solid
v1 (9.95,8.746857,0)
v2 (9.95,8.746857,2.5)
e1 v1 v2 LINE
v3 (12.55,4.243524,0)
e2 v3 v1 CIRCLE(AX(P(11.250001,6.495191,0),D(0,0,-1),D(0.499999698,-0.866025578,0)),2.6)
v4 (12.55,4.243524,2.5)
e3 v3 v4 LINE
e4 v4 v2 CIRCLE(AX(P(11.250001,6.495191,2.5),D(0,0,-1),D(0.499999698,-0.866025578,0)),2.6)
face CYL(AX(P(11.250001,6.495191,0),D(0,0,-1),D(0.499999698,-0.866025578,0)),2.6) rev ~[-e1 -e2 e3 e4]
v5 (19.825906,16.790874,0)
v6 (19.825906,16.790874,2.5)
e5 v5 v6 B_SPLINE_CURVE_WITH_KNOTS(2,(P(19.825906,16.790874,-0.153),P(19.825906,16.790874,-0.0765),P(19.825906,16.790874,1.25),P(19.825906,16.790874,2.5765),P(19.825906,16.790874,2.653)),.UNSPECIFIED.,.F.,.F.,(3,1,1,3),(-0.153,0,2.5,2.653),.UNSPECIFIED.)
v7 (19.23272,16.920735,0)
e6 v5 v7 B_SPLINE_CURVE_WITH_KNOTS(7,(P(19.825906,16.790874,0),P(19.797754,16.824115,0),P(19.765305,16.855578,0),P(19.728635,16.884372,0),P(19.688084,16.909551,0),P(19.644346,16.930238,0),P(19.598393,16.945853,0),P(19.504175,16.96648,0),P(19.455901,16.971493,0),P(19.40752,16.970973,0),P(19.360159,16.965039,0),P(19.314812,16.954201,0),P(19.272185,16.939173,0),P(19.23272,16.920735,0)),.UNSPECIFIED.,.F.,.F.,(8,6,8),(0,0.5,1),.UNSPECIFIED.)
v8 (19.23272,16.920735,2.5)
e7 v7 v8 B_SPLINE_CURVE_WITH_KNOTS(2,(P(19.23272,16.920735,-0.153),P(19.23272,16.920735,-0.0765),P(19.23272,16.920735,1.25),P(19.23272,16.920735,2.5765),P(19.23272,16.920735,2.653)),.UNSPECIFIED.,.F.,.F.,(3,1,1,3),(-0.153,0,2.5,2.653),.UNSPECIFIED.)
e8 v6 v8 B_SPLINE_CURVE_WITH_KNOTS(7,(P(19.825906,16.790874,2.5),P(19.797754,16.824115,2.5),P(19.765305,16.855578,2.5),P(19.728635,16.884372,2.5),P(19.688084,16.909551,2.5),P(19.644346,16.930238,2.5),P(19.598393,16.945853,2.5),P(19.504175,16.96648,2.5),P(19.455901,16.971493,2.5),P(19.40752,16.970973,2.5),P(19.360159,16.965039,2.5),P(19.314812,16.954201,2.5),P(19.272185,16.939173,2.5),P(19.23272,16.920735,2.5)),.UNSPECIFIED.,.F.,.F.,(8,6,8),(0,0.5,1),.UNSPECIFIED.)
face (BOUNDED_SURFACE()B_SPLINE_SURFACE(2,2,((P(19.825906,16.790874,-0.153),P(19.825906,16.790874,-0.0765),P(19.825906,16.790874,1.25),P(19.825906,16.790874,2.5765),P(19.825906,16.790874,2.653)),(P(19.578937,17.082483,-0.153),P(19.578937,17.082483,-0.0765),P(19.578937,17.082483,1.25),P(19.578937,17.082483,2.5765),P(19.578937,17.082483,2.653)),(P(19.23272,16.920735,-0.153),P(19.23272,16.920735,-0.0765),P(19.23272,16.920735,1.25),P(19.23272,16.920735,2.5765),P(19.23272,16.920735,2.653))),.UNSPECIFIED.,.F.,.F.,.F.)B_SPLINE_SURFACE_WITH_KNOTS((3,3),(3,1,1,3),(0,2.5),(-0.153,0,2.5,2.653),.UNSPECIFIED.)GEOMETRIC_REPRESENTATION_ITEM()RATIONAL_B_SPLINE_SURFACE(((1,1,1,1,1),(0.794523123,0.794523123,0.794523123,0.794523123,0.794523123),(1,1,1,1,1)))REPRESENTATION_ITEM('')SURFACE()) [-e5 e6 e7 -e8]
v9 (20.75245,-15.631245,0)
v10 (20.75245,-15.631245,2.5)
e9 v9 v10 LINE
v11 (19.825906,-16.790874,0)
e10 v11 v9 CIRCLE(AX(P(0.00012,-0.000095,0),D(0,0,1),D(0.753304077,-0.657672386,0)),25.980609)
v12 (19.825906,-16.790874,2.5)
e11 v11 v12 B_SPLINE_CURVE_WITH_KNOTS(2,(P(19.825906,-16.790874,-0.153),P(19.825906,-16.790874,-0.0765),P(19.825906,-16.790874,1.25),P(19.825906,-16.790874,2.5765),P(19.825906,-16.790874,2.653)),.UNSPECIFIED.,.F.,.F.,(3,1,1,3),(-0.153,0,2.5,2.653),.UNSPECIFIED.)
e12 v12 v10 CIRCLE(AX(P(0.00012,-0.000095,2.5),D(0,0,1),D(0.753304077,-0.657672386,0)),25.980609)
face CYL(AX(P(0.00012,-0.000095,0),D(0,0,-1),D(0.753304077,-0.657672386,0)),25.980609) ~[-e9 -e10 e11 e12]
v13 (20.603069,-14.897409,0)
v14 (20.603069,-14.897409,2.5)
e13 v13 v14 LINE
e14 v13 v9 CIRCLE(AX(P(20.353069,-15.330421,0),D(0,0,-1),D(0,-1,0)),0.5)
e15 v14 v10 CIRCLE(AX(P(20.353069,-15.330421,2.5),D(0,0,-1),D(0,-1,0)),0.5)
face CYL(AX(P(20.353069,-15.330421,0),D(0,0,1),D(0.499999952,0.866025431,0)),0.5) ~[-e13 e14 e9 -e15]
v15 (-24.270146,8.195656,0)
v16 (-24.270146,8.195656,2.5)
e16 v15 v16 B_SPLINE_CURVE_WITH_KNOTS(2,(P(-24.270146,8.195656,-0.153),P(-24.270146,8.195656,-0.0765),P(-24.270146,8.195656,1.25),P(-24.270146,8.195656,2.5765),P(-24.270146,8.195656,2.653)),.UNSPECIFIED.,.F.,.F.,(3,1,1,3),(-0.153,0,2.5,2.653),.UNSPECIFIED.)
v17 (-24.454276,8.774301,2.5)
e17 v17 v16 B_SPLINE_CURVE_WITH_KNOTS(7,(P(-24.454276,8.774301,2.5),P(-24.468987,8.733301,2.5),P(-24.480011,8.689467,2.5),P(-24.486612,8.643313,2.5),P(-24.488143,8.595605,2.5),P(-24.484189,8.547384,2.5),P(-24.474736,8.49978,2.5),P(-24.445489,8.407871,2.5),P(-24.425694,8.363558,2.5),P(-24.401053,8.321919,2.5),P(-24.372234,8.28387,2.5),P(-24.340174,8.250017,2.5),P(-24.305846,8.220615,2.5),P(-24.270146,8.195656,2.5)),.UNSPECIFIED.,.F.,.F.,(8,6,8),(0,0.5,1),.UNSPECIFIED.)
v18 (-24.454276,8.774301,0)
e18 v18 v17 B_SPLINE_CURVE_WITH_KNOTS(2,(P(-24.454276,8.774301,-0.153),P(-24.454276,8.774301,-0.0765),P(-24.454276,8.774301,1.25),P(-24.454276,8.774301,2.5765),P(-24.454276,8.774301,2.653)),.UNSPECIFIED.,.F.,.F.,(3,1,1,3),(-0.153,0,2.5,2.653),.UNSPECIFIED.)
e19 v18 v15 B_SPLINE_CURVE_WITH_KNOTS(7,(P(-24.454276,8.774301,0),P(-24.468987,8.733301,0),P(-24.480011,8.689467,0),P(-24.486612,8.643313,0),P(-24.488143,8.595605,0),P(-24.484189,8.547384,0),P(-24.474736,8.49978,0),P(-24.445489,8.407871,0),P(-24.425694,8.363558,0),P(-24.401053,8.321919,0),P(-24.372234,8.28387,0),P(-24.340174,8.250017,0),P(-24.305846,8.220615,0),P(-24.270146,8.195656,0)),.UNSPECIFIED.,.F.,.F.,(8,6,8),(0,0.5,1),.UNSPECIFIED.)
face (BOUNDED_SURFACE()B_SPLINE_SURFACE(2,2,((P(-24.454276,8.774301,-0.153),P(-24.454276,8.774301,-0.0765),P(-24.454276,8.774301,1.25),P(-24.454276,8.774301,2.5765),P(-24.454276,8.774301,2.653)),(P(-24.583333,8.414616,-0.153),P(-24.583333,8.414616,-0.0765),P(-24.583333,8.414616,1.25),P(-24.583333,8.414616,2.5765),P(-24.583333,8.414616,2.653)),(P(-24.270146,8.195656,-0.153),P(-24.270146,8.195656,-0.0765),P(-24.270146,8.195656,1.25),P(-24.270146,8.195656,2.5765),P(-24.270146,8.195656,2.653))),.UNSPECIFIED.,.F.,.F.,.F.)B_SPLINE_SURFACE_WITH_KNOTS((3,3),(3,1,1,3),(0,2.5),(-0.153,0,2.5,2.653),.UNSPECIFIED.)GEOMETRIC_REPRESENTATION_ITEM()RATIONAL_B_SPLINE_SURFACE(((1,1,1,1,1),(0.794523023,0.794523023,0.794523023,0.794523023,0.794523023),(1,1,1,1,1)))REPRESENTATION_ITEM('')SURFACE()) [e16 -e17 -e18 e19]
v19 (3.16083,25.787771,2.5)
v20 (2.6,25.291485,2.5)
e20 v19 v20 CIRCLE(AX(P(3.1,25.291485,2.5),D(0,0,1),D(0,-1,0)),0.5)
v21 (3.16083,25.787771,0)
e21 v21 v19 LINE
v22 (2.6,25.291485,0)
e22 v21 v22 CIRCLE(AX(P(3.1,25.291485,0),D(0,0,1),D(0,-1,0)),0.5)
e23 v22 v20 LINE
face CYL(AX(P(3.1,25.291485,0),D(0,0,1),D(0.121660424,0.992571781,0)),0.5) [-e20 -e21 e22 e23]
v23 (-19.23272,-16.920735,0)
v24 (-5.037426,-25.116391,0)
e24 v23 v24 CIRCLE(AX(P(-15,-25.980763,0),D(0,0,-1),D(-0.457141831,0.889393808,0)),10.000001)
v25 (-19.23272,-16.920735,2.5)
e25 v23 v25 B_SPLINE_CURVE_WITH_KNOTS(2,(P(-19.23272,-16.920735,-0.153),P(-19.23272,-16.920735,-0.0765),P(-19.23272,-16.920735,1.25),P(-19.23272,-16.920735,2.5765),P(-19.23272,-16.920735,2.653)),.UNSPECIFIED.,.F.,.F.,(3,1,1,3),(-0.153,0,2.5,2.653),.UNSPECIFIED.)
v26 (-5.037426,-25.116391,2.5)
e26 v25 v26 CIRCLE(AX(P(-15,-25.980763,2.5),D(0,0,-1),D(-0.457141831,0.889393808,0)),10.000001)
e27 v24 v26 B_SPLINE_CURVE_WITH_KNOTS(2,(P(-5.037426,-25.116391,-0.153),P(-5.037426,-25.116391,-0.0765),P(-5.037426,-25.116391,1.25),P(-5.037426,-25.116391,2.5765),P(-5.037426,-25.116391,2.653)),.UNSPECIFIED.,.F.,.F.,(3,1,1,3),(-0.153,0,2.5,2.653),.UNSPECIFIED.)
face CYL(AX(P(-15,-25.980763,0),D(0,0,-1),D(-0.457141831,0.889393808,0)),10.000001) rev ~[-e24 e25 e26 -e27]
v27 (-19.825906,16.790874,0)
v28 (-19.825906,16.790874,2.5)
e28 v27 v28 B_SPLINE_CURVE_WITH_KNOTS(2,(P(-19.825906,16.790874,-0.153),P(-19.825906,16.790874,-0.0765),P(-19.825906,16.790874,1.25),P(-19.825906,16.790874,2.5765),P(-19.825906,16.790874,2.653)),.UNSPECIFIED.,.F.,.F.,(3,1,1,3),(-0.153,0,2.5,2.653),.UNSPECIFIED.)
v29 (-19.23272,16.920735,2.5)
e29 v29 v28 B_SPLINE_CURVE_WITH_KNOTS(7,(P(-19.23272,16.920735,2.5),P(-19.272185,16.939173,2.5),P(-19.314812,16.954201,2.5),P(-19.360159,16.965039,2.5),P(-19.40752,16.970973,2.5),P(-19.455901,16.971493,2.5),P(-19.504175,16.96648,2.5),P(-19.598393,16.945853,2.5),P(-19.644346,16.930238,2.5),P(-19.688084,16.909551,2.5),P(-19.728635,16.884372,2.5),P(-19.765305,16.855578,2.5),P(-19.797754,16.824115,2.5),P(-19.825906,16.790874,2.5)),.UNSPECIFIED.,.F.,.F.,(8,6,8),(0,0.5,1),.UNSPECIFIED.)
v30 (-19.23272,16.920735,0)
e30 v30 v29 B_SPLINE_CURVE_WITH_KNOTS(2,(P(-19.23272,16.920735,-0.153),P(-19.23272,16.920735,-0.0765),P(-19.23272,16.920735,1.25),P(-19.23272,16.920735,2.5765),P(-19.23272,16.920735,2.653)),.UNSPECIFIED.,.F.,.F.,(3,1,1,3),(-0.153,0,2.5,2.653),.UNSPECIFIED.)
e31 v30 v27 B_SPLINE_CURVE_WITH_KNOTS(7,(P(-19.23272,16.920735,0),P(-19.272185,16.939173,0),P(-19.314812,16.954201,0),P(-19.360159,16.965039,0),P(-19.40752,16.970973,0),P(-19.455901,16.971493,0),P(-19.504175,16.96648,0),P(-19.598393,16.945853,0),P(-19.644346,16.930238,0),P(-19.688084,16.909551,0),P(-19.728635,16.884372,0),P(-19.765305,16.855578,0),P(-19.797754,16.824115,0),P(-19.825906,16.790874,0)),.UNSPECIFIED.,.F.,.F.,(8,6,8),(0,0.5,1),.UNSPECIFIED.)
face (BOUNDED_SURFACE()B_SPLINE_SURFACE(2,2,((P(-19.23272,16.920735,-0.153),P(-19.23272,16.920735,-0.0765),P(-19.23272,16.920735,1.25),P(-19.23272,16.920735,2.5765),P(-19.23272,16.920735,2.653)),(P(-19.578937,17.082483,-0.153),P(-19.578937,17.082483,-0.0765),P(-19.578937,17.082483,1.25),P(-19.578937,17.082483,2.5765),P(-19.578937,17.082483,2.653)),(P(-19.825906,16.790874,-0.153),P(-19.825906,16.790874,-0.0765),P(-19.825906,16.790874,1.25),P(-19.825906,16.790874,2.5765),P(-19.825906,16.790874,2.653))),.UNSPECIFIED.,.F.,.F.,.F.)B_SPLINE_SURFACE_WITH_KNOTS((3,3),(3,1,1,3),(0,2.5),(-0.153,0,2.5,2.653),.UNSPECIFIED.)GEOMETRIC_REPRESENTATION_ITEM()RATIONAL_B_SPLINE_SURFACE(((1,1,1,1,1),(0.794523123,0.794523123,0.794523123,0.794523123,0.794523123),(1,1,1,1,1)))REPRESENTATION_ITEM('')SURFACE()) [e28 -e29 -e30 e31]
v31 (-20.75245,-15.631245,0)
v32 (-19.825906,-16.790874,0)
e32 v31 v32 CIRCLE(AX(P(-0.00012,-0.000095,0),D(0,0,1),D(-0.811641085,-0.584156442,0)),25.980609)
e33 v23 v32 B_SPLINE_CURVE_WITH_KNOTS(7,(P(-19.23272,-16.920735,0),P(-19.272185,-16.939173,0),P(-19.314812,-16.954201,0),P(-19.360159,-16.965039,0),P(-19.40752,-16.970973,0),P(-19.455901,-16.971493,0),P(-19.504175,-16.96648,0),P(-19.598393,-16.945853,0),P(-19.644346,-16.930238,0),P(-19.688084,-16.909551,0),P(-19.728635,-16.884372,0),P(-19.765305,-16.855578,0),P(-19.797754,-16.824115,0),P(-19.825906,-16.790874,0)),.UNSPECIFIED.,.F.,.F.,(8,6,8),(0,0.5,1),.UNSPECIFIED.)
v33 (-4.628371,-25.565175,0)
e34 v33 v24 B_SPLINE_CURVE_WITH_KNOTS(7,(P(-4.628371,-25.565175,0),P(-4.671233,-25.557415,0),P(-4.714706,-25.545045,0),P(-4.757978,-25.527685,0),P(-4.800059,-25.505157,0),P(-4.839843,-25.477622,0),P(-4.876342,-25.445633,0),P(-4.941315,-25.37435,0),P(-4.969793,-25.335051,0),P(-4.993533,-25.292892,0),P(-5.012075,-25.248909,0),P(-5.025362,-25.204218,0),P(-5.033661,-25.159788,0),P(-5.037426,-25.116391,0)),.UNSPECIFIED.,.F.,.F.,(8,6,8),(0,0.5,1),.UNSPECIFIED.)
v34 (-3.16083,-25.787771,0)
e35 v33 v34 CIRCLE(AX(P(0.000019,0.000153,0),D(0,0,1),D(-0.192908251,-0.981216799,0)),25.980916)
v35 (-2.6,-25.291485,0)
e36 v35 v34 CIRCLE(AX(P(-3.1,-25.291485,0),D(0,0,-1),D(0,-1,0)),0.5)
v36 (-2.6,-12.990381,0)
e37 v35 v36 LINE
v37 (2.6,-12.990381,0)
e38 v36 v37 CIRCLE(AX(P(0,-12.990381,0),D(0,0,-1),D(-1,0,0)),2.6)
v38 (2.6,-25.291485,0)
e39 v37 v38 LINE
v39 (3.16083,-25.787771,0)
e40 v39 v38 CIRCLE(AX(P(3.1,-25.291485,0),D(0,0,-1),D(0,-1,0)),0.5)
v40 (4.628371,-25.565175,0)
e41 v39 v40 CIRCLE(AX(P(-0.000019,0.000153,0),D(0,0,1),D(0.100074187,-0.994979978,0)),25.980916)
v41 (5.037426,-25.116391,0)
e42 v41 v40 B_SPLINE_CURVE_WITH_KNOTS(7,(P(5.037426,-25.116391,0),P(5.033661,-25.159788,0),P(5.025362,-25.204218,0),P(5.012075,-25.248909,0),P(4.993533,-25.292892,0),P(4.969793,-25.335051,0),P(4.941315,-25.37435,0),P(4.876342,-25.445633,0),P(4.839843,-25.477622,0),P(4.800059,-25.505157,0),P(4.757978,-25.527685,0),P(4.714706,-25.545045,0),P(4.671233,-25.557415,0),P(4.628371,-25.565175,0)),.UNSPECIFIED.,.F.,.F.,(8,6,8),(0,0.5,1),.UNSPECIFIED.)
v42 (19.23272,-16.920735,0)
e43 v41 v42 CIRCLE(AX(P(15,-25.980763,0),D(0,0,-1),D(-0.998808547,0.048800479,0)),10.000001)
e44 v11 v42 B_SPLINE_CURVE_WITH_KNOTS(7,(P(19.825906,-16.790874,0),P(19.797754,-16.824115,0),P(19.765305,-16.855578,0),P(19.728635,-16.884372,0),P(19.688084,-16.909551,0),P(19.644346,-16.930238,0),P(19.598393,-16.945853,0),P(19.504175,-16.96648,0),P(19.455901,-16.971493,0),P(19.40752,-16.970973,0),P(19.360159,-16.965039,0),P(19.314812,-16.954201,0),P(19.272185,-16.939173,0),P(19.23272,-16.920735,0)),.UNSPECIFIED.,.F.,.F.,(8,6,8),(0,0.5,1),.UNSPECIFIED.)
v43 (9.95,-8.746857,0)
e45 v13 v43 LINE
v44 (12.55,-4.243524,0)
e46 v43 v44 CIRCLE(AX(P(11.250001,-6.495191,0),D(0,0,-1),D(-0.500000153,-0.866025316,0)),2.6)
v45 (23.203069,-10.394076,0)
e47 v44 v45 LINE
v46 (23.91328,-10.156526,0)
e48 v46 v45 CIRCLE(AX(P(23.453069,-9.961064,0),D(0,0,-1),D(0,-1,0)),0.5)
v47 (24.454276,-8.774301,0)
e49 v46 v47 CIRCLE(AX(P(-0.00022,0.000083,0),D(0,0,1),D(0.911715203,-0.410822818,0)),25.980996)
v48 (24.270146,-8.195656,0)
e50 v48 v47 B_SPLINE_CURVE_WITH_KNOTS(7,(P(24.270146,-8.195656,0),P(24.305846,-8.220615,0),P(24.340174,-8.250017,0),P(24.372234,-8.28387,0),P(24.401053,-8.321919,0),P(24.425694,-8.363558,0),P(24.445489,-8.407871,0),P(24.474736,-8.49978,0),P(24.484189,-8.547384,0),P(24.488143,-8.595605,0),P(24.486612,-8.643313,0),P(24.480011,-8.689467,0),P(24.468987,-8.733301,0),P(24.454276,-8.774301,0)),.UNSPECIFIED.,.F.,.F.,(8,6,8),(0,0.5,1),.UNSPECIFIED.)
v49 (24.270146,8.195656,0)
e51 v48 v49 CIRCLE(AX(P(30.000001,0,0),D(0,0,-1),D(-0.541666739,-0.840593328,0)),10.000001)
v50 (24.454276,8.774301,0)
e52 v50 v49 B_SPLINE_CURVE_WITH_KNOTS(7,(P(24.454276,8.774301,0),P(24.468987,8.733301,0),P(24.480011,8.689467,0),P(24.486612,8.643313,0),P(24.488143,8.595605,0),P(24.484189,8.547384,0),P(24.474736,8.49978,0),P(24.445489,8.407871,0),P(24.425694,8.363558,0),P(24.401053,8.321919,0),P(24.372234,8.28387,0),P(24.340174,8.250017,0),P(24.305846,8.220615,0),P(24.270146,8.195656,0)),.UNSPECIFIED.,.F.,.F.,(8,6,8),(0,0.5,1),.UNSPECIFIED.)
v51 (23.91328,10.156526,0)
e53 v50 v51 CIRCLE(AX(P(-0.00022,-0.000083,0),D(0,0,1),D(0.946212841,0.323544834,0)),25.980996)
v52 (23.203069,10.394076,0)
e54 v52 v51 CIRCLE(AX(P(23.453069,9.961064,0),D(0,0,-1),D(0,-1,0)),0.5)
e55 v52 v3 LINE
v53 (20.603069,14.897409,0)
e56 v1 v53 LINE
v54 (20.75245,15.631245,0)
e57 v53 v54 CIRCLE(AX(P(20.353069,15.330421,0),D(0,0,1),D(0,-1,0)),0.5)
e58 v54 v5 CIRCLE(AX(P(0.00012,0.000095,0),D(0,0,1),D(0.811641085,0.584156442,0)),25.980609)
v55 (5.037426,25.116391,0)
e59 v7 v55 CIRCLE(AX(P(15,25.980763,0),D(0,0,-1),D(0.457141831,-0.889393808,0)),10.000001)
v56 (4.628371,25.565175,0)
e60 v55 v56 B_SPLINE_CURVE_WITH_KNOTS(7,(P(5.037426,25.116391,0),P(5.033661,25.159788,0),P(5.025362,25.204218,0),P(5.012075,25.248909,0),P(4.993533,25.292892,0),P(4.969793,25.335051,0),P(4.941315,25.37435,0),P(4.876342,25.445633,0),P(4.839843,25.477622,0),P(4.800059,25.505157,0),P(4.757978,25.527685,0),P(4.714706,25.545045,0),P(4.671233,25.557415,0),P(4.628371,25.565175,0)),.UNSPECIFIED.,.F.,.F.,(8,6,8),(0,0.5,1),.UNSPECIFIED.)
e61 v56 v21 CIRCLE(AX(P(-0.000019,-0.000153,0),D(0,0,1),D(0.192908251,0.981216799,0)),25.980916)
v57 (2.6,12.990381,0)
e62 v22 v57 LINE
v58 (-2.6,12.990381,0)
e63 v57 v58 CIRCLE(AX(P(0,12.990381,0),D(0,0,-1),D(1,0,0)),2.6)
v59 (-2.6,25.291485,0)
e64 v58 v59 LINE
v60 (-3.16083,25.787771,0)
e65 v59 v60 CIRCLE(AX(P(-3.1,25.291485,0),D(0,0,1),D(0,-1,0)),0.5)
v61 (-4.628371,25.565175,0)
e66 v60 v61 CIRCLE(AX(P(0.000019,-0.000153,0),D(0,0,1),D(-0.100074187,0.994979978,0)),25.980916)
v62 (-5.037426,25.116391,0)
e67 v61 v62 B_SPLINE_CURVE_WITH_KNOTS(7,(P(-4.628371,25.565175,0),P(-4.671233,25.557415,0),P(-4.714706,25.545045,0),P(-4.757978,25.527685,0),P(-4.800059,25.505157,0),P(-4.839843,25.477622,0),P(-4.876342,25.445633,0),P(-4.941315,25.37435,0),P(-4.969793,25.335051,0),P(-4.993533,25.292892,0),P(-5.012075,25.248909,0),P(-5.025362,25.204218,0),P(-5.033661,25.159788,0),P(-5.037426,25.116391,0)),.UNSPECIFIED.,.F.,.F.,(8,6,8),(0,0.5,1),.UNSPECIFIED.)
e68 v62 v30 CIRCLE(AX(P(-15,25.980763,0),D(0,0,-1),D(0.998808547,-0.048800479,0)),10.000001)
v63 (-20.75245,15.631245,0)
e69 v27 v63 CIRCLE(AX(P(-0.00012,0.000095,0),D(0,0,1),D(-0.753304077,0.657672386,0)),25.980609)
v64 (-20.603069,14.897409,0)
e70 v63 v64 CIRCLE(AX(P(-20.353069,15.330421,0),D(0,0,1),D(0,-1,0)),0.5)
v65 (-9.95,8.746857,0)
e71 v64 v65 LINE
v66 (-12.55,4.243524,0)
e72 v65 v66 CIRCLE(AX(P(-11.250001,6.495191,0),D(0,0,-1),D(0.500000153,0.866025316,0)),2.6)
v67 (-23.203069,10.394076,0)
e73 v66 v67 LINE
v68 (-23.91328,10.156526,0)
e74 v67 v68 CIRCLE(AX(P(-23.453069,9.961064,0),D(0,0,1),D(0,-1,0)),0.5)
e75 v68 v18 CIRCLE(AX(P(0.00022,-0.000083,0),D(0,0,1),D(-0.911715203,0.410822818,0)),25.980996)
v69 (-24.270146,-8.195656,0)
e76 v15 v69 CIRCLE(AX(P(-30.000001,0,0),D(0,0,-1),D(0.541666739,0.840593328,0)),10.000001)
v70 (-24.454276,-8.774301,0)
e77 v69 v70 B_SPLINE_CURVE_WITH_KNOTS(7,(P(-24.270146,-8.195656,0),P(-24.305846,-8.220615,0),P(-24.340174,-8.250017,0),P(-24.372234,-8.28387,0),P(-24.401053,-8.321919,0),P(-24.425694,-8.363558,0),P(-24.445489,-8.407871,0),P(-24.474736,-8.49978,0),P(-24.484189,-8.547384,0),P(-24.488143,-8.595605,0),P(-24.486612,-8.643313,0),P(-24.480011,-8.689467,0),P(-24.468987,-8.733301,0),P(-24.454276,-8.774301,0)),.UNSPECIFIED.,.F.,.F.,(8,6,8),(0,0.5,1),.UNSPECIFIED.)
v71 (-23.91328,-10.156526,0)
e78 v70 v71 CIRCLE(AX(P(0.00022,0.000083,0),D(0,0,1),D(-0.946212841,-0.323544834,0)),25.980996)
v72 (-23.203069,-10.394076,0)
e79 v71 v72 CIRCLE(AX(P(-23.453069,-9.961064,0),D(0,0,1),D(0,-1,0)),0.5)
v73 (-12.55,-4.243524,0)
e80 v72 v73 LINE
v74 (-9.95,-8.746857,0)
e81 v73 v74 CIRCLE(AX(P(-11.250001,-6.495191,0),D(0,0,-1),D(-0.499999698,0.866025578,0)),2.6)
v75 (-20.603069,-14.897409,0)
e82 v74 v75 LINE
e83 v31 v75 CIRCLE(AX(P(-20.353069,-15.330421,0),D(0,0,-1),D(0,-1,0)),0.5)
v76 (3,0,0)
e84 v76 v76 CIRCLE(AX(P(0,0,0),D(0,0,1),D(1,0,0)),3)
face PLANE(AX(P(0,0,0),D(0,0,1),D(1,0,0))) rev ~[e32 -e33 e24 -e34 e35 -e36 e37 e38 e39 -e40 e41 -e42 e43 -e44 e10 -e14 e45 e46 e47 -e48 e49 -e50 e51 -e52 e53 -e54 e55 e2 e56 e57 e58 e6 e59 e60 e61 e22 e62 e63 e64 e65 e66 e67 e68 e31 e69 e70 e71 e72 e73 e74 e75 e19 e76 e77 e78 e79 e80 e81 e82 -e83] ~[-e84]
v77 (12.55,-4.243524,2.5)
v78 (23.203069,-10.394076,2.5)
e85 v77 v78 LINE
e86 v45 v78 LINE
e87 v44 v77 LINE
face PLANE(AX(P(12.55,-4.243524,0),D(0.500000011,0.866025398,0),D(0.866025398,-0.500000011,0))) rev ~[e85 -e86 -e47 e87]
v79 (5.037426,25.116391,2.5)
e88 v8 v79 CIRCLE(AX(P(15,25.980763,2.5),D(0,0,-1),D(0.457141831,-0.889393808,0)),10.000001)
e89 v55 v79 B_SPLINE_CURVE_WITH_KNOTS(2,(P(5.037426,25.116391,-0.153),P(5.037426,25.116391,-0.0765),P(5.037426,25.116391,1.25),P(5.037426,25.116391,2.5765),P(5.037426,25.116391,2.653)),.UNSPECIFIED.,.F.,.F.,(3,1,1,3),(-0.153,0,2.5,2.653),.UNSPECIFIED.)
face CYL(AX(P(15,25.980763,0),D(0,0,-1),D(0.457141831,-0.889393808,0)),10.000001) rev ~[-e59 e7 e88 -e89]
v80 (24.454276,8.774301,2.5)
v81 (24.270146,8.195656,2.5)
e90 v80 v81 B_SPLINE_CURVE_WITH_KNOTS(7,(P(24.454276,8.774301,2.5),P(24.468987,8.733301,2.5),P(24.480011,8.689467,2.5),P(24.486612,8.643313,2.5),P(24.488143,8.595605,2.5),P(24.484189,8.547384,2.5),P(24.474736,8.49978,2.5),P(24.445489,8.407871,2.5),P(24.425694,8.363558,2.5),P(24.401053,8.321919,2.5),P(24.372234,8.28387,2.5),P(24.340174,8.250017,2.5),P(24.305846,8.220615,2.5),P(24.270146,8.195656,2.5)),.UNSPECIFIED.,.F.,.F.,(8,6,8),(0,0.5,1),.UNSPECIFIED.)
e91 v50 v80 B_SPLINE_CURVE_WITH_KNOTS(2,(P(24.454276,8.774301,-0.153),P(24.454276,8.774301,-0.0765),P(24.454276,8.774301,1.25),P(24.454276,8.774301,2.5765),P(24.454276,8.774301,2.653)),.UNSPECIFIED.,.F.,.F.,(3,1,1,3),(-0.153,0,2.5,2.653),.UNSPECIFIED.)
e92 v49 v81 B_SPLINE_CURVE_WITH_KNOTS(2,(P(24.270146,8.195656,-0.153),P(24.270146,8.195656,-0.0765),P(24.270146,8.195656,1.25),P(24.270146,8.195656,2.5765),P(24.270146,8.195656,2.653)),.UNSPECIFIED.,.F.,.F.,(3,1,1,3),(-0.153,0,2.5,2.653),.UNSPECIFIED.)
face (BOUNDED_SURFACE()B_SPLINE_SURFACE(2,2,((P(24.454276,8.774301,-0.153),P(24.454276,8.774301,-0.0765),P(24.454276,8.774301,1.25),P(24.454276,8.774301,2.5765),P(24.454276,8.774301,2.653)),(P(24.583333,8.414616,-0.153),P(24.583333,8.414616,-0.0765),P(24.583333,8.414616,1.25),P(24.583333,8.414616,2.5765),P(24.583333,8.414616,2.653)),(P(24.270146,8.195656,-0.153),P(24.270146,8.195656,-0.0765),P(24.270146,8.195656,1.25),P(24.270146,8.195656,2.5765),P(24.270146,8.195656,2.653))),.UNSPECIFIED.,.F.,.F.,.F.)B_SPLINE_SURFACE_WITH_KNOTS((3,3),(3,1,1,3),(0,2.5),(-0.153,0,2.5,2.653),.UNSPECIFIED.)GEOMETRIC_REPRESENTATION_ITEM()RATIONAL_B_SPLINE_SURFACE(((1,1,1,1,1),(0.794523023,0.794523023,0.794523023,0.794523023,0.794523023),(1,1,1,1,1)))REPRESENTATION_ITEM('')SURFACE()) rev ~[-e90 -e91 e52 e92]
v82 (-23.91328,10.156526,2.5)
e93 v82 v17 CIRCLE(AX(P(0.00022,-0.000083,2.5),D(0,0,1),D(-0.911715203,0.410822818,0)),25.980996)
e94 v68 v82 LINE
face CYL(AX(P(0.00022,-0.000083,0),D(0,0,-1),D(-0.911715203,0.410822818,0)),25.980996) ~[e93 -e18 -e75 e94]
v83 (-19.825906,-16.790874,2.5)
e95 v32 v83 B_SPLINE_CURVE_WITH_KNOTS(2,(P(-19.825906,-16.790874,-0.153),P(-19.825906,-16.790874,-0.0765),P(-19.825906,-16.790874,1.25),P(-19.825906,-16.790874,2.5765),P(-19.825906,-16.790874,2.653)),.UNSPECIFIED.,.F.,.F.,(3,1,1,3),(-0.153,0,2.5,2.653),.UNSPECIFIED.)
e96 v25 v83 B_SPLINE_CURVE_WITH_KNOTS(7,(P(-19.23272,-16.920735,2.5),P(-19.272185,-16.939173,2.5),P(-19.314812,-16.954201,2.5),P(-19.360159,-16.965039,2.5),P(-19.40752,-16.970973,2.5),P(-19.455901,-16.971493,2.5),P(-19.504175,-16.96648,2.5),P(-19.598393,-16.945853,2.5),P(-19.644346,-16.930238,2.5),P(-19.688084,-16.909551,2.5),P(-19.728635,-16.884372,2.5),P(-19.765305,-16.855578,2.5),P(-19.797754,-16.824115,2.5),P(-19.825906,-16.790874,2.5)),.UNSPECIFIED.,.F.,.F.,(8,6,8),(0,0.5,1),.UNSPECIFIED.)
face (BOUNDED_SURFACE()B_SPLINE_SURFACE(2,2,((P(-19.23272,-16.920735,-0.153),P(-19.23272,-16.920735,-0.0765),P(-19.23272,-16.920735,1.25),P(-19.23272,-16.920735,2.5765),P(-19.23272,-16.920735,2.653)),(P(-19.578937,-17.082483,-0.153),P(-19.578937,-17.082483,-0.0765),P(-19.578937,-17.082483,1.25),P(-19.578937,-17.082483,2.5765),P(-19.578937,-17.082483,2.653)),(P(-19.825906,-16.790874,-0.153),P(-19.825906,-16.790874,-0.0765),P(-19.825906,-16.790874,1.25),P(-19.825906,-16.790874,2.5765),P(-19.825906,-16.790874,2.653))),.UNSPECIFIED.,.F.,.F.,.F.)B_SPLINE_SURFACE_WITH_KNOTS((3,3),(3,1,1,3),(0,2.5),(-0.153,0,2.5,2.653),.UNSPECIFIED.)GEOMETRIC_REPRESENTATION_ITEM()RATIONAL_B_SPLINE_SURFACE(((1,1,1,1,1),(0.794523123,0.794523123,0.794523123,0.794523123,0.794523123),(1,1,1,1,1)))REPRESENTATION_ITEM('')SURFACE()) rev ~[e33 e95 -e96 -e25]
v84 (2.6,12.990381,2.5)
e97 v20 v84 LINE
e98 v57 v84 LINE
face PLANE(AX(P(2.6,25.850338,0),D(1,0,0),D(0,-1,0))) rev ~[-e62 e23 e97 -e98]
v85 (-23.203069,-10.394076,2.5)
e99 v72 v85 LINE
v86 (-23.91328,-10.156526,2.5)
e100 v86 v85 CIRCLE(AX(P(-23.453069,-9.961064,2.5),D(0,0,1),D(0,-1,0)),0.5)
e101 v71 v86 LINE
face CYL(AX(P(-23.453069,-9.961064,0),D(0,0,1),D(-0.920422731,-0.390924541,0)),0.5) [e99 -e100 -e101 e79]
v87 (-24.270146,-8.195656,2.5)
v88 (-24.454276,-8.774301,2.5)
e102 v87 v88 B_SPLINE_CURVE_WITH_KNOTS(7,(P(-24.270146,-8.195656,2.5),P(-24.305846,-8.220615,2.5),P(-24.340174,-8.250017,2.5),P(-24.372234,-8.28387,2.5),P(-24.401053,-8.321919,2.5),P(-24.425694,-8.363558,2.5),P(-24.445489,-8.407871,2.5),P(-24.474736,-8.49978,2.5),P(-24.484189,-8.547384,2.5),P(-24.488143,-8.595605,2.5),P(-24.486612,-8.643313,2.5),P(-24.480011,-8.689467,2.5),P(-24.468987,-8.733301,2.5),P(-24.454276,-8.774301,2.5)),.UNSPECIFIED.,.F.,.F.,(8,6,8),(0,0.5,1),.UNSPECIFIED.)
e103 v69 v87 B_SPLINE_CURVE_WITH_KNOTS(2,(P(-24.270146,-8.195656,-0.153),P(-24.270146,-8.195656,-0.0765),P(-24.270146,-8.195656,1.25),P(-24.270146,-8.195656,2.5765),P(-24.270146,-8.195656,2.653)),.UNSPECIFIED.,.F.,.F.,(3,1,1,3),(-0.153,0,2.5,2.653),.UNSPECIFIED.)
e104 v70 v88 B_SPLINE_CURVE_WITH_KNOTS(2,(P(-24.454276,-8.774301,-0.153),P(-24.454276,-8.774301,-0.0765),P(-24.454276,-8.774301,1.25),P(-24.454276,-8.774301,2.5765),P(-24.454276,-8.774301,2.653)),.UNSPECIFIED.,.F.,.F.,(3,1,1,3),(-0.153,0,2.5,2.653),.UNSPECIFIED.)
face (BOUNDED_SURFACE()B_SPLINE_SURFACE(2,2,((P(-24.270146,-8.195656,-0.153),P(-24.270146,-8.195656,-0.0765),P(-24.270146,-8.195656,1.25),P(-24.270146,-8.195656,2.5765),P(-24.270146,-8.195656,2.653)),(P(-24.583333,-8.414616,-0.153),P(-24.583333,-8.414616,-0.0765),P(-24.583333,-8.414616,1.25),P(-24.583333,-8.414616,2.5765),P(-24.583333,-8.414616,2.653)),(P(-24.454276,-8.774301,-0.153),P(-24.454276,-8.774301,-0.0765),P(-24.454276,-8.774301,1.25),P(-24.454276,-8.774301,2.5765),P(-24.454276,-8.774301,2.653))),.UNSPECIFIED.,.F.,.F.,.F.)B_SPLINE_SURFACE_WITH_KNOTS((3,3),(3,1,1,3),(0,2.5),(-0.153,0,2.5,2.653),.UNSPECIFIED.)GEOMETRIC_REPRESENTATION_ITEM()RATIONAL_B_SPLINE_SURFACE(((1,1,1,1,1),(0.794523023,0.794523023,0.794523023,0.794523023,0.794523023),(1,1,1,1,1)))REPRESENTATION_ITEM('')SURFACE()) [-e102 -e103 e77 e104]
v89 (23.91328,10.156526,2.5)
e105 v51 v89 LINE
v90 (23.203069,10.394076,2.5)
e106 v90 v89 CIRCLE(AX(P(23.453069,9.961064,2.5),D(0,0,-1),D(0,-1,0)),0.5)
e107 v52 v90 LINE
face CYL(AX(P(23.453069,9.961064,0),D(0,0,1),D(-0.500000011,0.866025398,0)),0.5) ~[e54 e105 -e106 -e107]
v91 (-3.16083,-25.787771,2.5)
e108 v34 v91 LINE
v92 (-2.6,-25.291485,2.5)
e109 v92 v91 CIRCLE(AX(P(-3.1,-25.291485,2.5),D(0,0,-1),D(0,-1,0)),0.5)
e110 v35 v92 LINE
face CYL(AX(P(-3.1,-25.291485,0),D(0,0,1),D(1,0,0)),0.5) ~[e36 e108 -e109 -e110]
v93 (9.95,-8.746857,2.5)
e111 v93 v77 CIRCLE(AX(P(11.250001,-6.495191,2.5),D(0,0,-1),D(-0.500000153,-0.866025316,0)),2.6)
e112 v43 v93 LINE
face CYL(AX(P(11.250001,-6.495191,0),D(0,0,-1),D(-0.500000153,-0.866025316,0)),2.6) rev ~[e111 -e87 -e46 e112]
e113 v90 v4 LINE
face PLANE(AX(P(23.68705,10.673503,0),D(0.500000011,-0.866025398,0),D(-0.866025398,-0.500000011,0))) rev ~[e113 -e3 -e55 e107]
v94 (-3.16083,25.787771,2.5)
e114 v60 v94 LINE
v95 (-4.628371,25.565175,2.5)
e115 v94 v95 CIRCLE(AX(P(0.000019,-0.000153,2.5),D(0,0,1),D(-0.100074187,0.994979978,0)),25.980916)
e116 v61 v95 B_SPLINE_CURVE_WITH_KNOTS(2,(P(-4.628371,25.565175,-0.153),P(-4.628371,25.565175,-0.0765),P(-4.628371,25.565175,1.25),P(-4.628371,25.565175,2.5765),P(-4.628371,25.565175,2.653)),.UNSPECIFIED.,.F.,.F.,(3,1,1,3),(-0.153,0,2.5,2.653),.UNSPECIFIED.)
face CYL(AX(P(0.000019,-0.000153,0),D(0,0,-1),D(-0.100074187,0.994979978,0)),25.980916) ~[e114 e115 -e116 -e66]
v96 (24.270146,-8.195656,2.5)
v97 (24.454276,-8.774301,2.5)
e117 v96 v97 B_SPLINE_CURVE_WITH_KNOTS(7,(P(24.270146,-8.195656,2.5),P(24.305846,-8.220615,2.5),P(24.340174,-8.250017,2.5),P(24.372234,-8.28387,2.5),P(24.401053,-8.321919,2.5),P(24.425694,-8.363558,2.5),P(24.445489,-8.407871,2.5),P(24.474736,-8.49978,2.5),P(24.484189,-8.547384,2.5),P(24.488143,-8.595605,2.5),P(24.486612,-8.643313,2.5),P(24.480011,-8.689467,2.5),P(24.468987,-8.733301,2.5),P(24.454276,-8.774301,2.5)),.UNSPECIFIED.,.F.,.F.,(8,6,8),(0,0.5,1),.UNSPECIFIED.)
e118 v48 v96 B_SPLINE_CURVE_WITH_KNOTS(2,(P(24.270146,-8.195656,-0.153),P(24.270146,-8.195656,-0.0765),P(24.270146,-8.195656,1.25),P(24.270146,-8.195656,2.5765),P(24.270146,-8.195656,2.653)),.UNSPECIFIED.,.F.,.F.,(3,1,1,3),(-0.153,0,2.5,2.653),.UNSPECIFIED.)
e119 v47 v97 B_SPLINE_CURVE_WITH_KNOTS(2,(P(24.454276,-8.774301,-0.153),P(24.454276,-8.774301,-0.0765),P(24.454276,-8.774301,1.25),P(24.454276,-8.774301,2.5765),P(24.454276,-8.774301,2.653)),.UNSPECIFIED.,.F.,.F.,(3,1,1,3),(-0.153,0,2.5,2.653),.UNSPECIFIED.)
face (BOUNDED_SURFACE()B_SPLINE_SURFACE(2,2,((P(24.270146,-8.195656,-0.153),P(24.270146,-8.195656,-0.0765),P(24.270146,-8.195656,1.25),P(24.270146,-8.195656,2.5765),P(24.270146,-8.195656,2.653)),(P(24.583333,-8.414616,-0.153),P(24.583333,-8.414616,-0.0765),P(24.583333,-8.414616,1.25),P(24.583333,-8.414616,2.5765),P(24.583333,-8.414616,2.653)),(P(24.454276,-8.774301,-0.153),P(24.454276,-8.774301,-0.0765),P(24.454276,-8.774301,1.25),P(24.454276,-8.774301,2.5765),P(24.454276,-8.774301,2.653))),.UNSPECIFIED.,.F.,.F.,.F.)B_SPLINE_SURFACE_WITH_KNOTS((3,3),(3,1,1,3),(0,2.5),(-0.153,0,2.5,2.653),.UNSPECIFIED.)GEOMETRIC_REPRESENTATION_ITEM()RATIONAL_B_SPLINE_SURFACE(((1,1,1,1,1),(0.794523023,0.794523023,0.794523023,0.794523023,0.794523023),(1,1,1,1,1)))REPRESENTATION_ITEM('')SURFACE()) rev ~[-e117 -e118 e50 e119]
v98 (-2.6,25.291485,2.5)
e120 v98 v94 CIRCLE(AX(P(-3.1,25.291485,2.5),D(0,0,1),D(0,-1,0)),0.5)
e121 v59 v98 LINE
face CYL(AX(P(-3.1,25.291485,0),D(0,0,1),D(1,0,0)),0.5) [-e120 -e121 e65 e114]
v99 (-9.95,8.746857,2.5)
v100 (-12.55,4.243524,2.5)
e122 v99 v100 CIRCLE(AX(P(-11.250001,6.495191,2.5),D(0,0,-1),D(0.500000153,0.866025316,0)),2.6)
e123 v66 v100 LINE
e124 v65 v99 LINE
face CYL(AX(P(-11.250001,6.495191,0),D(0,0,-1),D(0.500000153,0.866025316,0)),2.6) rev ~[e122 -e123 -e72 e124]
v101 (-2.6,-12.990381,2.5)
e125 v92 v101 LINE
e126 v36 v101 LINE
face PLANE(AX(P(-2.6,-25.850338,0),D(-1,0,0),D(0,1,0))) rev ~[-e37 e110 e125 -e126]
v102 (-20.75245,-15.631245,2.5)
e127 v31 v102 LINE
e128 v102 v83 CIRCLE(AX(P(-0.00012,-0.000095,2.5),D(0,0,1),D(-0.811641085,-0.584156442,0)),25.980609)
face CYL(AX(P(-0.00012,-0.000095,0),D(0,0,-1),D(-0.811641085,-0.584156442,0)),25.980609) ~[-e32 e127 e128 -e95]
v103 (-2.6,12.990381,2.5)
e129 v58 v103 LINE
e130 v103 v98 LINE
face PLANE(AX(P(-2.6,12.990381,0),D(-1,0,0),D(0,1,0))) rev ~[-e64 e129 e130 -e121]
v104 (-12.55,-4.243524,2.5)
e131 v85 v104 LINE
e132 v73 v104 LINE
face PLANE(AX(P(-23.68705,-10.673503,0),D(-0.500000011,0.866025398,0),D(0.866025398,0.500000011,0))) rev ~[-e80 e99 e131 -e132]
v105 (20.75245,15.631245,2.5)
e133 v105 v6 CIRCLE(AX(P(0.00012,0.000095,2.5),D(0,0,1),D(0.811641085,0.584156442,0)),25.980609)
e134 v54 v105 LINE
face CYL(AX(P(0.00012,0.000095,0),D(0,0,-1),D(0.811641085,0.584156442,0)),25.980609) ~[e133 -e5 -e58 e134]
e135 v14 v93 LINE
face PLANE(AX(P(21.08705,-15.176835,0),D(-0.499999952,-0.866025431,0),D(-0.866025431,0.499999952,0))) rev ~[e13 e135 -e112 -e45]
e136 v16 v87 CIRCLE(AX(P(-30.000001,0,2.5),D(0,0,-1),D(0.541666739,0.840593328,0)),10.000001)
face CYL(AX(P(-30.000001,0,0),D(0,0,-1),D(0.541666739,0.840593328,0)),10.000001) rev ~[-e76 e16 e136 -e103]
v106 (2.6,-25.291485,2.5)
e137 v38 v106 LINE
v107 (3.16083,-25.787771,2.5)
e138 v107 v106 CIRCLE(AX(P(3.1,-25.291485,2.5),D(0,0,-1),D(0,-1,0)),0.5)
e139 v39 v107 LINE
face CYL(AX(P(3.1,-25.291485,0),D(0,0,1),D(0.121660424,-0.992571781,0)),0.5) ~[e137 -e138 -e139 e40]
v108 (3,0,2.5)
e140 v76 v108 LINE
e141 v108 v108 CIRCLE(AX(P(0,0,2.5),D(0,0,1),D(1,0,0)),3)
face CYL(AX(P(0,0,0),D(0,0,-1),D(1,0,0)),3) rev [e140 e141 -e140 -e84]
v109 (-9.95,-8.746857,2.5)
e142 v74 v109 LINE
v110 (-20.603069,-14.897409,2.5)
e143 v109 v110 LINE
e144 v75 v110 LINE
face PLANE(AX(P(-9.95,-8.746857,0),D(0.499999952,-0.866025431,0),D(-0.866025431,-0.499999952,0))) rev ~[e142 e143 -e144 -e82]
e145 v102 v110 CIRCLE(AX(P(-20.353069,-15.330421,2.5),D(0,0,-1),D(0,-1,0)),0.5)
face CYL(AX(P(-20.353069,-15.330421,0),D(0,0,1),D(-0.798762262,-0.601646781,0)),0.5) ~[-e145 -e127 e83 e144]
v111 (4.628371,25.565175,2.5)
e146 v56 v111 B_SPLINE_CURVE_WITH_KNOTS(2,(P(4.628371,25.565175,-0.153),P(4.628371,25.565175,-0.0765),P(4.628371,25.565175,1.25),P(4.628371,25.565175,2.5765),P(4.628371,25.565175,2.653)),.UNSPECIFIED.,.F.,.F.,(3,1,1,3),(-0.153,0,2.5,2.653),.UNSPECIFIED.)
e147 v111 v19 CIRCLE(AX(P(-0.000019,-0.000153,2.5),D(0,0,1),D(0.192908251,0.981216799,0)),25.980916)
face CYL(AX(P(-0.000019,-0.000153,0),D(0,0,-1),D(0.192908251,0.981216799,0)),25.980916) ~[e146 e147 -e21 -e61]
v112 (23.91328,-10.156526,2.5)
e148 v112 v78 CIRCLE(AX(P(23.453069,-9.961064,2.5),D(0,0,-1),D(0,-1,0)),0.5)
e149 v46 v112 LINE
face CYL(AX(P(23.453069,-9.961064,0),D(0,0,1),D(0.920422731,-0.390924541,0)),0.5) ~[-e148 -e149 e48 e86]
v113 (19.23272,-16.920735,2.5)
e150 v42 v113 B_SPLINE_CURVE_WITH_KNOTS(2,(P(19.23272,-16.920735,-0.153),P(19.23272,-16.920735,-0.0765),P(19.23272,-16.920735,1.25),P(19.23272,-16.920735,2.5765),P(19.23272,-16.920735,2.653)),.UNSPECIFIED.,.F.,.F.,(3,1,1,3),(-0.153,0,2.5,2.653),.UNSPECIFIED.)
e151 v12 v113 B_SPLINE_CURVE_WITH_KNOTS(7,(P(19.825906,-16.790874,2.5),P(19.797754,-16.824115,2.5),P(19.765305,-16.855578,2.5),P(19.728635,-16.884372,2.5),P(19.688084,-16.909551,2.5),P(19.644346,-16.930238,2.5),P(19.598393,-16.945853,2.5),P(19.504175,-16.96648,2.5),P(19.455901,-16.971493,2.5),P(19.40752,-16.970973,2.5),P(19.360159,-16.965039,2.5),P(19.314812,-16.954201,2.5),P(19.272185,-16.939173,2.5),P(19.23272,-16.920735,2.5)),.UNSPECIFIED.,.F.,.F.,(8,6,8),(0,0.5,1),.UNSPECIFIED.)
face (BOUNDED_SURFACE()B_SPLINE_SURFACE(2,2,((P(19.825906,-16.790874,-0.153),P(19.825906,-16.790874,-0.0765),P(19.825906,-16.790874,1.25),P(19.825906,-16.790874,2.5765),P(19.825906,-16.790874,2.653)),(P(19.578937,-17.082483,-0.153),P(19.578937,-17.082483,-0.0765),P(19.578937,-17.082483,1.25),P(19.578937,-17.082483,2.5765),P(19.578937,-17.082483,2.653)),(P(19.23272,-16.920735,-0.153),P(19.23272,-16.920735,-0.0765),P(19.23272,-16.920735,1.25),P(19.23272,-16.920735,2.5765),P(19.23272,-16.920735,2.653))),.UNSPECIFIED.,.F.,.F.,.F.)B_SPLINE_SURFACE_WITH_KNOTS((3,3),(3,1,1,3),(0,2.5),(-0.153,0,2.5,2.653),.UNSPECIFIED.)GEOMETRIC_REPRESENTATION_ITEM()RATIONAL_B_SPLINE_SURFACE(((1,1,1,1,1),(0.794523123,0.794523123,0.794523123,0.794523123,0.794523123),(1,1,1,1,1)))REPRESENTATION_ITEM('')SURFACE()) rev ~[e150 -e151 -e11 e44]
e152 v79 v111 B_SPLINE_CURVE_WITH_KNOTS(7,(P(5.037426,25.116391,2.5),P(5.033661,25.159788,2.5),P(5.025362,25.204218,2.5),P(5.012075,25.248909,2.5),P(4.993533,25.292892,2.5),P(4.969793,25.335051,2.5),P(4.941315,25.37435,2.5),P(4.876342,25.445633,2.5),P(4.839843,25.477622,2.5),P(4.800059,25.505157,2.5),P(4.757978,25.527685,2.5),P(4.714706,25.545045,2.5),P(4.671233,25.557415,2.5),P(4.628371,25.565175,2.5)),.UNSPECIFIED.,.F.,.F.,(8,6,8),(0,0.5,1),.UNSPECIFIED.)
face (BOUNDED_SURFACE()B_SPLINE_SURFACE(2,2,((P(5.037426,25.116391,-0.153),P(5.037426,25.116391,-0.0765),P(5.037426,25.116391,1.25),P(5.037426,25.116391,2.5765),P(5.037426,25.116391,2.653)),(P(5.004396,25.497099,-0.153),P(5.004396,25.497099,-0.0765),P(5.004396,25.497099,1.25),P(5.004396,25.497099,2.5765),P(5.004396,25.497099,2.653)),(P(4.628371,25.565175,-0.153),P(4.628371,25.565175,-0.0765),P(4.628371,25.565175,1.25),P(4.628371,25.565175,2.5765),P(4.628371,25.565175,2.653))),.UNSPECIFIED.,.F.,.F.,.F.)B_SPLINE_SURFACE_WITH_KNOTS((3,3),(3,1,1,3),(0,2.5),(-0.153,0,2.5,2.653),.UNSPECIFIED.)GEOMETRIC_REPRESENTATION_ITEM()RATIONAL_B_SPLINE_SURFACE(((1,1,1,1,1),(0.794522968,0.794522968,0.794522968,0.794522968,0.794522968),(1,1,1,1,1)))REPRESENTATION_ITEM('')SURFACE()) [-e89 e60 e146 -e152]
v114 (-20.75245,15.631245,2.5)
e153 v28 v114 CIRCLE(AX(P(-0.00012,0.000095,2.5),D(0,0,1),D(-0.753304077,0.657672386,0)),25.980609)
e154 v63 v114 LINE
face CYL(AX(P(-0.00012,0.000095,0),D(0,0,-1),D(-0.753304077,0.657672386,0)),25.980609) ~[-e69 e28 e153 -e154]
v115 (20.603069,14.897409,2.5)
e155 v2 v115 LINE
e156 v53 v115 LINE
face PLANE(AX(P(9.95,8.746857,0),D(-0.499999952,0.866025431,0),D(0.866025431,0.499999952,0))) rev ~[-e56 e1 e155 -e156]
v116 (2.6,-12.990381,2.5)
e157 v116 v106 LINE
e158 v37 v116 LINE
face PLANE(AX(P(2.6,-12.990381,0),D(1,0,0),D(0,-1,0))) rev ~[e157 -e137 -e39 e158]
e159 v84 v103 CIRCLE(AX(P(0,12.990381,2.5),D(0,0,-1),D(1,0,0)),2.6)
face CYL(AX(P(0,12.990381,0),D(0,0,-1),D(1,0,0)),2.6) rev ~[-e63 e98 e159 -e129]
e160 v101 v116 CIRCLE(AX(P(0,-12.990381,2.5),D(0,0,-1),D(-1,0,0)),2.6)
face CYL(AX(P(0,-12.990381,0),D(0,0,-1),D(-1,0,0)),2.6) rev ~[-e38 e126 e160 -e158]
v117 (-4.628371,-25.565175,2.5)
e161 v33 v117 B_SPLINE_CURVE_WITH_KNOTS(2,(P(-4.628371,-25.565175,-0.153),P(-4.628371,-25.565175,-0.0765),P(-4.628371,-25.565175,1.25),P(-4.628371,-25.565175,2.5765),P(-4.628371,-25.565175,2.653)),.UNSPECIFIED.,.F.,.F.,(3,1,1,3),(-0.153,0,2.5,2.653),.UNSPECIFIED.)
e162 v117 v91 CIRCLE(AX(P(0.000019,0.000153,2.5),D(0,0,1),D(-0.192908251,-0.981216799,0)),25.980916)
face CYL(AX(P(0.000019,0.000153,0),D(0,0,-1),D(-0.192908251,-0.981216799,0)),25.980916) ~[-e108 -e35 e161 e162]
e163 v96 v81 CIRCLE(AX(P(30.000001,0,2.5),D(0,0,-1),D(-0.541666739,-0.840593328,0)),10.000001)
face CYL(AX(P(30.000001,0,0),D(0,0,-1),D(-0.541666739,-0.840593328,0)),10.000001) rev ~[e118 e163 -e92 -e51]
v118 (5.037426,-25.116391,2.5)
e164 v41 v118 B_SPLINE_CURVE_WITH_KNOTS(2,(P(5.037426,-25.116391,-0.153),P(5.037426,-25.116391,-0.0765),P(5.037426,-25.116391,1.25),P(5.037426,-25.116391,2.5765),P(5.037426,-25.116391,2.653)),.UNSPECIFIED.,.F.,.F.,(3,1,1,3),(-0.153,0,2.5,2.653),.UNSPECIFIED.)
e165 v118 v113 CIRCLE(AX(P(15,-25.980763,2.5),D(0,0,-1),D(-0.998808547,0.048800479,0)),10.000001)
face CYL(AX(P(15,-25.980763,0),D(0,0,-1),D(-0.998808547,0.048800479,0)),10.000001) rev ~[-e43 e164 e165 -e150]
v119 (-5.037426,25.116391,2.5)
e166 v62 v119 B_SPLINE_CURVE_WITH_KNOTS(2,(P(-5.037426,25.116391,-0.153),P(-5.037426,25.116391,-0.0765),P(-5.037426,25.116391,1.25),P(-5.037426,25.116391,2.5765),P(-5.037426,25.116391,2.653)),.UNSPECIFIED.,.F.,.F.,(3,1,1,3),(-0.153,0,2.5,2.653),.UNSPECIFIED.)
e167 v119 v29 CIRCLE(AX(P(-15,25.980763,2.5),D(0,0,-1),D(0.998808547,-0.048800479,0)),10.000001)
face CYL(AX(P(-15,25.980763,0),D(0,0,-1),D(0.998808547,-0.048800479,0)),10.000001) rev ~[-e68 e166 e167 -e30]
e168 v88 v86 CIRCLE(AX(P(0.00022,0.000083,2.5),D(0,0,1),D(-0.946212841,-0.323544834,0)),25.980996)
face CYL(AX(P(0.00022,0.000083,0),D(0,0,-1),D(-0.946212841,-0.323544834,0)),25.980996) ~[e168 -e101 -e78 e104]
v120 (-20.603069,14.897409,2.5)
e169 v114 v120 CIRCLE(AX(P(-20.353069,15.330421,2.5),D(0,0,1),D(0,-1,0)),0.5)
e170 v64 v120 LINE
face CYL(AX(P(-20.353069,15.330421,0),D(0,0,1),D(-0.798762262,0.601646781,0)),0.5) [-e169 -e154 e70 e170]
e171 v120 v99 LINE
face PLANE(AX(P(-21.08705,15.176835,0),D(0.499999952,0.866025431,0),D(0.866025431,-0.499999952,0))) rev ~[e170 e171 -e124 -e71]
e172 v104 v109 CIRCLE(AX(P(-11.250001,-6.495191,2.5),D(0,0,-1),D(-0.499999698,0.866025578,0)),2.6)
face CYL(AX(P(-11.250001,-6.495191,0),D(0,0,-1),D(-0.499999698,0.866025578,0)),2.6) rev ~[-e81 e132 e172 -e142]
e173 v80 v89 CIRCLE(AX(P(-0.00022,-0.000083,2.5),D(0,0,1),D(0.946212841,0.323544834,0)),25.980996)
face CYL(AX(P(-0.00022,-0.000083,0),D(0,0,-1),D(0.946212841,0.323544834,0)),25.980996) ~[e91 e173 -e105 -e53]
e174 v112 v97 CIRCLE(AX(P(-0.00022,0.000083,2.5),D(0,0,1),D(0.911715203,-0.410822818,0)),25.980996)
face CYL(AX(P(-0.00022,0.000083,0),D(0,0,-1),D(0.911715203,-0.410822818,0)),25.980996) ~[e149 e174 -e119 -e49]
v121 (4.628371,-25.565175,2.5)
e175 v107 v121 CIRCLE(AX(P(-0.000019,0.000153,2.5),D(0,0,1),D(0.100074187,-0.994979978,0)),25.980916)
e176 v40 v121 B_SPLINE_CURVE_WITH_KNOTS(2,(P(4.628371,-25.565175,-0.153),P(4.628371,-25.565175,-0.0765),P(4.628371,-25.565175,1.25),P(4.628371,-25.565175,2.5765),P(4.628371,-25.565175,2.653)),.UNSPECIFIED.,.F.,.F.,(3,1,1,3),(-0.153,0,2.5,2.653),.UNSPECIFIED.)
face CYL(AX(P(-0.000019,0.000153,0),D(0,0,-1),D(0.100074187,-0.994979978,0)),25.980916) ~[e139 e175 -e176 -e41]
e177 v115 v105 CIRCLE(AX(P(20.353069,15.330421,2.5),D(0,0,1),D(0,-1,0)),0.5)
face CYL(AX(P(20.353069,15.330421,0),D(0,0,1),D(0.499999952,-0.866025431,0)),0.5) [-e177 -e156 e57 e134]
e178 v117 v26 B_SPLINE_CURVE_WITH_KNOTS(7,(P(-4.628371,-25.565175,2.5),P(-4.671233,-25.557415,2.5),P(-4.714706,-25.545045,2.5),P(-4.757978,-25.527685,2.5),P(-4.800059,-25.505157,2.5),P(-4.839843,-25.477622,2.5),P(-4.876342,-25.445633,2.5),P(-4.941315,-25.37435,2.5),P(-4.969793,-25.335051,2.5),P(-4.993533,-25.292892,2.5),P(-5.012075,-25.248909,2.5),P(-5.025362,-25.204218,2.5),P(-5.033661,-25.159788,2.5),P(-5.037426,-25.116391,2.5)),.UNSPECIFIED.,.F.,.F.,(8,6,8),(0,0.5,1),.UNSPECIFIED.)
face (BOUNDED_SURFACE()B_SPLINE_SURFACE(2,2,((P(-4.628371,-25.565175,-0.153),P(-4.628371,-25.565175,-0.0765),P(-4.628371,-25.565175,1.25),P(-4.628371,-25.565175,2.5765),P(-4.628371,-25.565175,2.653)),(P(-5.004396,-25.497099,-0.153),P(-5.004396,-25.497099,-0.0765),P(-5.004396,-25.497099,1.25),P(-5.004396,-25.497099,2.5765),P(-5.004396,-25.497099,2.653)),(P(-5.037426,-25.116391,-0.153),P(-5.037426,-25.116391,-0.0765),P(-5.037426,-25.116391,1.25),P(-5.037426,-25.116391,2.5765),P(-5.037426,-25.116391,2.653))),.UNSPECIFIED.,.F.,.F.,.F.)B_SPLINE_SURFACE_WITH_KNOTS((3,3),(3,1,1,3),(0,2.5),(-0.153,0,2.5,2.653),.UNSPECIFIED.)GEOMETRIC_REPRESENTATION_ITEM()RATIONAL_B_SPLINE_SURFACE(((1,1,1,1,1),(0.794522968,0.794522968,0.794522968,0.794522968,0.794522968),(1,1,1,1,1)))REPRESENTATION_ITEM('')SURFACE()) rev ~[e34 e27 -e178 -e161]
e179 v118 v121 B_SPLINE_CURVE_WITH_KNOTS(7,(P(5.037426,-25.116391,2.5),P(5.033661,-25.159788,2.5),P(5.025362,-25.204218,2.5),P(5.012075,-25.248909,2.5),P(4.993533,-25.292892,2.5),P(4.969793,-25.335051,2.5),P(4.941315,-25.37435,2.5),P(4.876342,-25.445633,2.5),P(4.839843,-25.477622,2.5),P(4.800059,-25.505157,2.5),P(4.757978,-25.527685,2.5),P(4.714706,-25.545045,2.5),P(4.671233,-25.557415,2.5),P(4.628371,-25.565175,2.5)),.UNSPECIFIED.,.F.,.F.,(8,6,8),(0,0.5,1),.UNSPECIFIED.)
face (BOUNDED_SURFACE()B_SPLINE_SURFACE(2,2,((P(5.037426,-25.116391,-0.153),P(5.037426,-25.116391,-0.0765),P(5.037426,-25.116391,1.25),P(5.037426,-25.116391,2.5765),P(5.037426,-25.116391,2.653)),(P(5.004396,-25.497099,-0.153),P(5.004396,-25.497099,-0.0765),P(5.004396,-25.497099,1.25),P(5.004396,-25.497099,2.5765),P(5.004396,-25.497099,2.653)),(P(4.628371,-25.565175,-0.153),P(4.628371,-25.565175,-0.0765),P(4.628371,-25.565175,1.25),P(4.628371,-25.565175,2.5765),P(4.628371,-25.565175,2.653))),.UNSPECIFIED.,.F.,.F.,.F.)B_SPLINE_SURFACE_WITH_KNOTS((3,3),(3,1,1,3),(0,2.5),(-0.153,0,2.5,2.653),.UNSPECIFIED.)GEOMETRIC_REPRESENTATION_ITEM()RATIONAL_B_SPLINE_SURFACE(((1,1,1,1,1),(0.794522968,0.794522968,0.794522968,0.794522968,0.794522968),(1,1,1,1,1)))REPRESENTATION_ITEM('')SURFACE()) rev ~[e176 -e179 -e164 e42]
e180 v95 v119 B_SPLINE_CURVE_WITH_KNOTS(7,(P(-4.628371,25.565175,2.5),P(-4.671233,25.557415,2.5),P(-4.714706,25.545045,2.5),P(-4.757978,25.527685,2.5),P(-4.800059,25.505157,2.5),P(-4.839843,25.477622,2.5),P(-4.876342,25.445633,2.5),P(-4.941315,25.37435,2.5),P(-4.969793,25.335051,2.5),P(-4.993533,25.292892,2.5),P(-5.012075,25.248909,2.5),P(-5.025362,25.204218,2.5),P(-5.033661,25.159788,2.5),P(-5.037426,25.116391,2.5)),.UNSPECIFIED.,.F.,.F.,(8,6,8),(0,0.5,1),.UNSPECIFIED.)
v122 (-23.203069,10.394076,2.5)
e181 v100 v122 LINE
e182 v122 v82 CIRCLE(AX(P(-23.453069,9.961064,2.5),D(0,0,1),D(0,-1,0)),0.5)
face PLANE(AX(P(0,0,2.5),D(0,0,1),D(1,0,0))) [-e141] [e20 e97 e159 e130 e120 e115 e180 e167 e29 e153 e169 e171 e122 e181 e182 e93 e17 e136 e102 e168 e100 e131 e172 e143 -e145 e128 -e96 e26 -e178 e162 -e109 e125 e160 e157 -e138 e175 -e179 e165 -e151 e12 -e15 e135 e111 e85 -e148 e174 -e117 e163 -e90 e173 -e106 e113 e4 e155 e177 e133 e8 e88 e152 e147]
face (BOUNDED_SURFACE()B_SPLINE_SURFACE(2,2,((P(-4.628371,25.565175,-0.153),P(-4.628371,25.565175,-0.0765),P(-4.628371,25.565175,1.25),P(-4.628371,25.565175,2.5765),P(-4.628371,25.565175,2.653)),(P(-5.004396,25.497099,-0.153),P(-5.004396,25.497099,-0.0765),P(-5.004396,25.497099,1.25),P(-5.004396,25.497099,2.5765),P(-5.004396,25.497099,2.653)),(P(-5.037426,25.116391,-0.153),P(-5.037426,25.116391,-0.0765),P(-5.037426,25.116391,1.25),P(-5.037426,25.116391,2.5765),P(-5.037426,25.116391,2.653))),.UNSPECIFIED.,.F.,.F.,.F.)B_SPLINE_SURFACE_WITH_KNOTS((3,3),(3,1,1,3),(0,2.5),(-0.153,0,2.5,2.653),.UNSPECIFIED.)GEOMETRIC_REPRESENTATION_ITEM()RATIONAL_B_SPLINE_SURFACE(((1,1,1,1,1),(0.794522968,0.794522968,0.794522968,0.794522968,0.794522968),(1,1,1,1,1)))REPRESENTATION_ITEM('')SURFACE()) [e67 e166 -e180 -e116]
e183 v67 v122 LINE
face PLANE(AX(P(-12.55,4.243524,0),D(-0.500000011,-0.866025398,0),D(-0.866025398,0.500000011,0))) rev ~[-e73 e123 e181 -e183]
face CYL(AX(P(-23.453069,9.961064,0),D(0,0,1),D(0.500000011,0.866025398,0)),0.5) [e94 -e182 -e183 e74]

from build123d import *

# Parameters (mm, degrees)
F0_R     = 3
F1_DEPTH = 2.5
F2_R     = 0.5


with BuildPart() as f1:
    # F0 (on Top) → F1 (new body)
    with BuildSketch(Plane.XY):
        with BuildLine():
            Line((9.95, 8.746857), (21.08705, 15.176835))
            ThreePointArc((21.08705, 15.176835), (20.351653, 16.14962), (19.571419, 17.086824))
            ThreePointArc((19.571419, 17.086824), (10, 17.320508), (5.011914, 25.492758))
            ThreePointArc((5.011914, 25.492758), (3.810154, 25.699858), (2.6, 25.850338))
            Line((2.6, 25.850338), (2.6, 12.990381))
            ThreePointArc((2.6, 12.990381), (0, 10.390381), (-2.6, 12.990381))
            Line((-2.6, 12.990381), (-2.6, 25.850338))
            ThreePointArc((-2.6, 25.850338), (-3.810154, 25.699858), (-5.011914, 25.492758))
            ThreePointArc((-5.011914, 25.492758), (-10, 17.320508), (-19.571419, 17.086824))
            ThreePointArc((-19.571419, 17.086824), (-20.351653, 16.14962), (-21.08705, 15.176835))
            Line((-21.08705, 15.176835), (-9.95, 8.746857))
            ThreePointArc((-9.95, 8.746857), (-8.998334, 5.195191), (-12.55, 4.243524))
            Line((-12.55, 4.243524), (-23.68705, 10.673503))
            ThreePointArc((-23.68705, 10.673503), (-24.161807, 9.550239), (-24.583333, 8.405934))
            ThreePointArc((-24.583333, 8.405934), (-20, 0), (-24.583333, -8.405934))
            ThreePointArc((-24.583333, -8.405934), (-24.161807, -9.550239), (-23.68705, -10.673503))
            Line((-23.68705, -10.673503), (-12.55, -4.243524))
            ThreePointArc((-12.55, -4.243524), (-8.998334, -5.195191), (-9.95, -8.746857))
            Line((-9.95, -8.746857), (-21.08705, -15.176835))
            ThreePointArc((-21.08705, -15.176835), (-20.351653, -16.14962), (-19.571419, -17.086824))
            ThreePointArc((-19.571419, -17.086824), (-10, -17.320508), (-5.011914, -25.492758))
            ThreePointArc((-5.011914, -25.492758), (-3.810154, -25.699858), (-2.6, -25.850338))
            Line((-2.6, -25.850338), (-2.6, -12.990381))
            ThreePointArc((-2.6, -12.990381), (0, -10.390381), (2.6, -12.990381))
            Line((2.6, -12.990381), (2.6, -25.850338))
            ThreePointArc((2.6, -25.850338), (3.810154, -25.699858), (5.011914, -25.492758))
            ThreePointArc((5.011914, -25.492758), (10, -17.320508), (19.571419, -17.086824))
            ThreePointArc((19.571419, -17.086824), (20.351653, -16.14962), (21.08705, -15.176835))
            Line((21.08705, -15.176835), (9.95, -8.746857))
            ThreePointArc((9.95, -8.746857), (8.998334, -5.195191), (12.55, -4.243524))
            Line((12.55, -4.243524), (23.68705, -10.673503))
            ThreePointArc((23.68705, -10.673503), (24.161807, -9.550239), (24.583333, -8.405934))
            ThreePointArc((24.583333, -8.405934), (20, 0), (24.583333, 8.405934))
            ThreePointArc((24.583333, 8.405934), (24.161807, 9.550239), (23.68705, 10.673503))
            Line((23.68705, 10.673503), (12.55, 4.243524))
            ThreePointArc((12.55, 4.243524), (8.998334, 5.195191), (9.95, 8.746857))
        make_face()
        Circle(F0_R, mode=Mode.SUBTRACT)
    extrude(amount=F1_DEPTH)

    # F2
    f2_edges = [f1.edges().sort_by_distance(p)[0] for p in [
        (23.68705, -10.673503, 1.25),
        (21.08705, -15.176835, 1.25),
        (24.583333, -8.405934, 1.25),
        (19.571419, -17.086824, 1.25),
        (5.011914, -25.492758, 1.25),
        (2.6, -25.850338, 1.25),
        (-2.6, -25.850338, 1.25),
        (-5.011914, -25.492758, 1.25),
        (-21.08705, -15.176835, 1.25),
        (-19.571419, -17.086824, 1.25),
        (-23.68705, -10.673503, 1.25),
        (-24.583333, -8.405934, 1.25),
        (-23.68705, 10.673503, 1.25),
        (-24.583333, 8.405934, 1.25),
        (-21.08705, 15.176835, 1.25),
        (-19.571419, 17.086824, 1.25),
        (-5.011914, 25.492758, 1.25),
        (-2.6, 25.850338, 1.25),
        (2.6, 25.850338, 1.25),
        (5.011914, 25.492758, 1.25),
        (21.08705, 15.176835, 1.25),
        (19.571419, 17.086824, 1.25),
        (23.68705, 10.673503, 1.25),
        (24.583333, 8.405934, 1.25),
    ]]
    fillet(f2_edges, radius=F2_R)


solid = f1.part
